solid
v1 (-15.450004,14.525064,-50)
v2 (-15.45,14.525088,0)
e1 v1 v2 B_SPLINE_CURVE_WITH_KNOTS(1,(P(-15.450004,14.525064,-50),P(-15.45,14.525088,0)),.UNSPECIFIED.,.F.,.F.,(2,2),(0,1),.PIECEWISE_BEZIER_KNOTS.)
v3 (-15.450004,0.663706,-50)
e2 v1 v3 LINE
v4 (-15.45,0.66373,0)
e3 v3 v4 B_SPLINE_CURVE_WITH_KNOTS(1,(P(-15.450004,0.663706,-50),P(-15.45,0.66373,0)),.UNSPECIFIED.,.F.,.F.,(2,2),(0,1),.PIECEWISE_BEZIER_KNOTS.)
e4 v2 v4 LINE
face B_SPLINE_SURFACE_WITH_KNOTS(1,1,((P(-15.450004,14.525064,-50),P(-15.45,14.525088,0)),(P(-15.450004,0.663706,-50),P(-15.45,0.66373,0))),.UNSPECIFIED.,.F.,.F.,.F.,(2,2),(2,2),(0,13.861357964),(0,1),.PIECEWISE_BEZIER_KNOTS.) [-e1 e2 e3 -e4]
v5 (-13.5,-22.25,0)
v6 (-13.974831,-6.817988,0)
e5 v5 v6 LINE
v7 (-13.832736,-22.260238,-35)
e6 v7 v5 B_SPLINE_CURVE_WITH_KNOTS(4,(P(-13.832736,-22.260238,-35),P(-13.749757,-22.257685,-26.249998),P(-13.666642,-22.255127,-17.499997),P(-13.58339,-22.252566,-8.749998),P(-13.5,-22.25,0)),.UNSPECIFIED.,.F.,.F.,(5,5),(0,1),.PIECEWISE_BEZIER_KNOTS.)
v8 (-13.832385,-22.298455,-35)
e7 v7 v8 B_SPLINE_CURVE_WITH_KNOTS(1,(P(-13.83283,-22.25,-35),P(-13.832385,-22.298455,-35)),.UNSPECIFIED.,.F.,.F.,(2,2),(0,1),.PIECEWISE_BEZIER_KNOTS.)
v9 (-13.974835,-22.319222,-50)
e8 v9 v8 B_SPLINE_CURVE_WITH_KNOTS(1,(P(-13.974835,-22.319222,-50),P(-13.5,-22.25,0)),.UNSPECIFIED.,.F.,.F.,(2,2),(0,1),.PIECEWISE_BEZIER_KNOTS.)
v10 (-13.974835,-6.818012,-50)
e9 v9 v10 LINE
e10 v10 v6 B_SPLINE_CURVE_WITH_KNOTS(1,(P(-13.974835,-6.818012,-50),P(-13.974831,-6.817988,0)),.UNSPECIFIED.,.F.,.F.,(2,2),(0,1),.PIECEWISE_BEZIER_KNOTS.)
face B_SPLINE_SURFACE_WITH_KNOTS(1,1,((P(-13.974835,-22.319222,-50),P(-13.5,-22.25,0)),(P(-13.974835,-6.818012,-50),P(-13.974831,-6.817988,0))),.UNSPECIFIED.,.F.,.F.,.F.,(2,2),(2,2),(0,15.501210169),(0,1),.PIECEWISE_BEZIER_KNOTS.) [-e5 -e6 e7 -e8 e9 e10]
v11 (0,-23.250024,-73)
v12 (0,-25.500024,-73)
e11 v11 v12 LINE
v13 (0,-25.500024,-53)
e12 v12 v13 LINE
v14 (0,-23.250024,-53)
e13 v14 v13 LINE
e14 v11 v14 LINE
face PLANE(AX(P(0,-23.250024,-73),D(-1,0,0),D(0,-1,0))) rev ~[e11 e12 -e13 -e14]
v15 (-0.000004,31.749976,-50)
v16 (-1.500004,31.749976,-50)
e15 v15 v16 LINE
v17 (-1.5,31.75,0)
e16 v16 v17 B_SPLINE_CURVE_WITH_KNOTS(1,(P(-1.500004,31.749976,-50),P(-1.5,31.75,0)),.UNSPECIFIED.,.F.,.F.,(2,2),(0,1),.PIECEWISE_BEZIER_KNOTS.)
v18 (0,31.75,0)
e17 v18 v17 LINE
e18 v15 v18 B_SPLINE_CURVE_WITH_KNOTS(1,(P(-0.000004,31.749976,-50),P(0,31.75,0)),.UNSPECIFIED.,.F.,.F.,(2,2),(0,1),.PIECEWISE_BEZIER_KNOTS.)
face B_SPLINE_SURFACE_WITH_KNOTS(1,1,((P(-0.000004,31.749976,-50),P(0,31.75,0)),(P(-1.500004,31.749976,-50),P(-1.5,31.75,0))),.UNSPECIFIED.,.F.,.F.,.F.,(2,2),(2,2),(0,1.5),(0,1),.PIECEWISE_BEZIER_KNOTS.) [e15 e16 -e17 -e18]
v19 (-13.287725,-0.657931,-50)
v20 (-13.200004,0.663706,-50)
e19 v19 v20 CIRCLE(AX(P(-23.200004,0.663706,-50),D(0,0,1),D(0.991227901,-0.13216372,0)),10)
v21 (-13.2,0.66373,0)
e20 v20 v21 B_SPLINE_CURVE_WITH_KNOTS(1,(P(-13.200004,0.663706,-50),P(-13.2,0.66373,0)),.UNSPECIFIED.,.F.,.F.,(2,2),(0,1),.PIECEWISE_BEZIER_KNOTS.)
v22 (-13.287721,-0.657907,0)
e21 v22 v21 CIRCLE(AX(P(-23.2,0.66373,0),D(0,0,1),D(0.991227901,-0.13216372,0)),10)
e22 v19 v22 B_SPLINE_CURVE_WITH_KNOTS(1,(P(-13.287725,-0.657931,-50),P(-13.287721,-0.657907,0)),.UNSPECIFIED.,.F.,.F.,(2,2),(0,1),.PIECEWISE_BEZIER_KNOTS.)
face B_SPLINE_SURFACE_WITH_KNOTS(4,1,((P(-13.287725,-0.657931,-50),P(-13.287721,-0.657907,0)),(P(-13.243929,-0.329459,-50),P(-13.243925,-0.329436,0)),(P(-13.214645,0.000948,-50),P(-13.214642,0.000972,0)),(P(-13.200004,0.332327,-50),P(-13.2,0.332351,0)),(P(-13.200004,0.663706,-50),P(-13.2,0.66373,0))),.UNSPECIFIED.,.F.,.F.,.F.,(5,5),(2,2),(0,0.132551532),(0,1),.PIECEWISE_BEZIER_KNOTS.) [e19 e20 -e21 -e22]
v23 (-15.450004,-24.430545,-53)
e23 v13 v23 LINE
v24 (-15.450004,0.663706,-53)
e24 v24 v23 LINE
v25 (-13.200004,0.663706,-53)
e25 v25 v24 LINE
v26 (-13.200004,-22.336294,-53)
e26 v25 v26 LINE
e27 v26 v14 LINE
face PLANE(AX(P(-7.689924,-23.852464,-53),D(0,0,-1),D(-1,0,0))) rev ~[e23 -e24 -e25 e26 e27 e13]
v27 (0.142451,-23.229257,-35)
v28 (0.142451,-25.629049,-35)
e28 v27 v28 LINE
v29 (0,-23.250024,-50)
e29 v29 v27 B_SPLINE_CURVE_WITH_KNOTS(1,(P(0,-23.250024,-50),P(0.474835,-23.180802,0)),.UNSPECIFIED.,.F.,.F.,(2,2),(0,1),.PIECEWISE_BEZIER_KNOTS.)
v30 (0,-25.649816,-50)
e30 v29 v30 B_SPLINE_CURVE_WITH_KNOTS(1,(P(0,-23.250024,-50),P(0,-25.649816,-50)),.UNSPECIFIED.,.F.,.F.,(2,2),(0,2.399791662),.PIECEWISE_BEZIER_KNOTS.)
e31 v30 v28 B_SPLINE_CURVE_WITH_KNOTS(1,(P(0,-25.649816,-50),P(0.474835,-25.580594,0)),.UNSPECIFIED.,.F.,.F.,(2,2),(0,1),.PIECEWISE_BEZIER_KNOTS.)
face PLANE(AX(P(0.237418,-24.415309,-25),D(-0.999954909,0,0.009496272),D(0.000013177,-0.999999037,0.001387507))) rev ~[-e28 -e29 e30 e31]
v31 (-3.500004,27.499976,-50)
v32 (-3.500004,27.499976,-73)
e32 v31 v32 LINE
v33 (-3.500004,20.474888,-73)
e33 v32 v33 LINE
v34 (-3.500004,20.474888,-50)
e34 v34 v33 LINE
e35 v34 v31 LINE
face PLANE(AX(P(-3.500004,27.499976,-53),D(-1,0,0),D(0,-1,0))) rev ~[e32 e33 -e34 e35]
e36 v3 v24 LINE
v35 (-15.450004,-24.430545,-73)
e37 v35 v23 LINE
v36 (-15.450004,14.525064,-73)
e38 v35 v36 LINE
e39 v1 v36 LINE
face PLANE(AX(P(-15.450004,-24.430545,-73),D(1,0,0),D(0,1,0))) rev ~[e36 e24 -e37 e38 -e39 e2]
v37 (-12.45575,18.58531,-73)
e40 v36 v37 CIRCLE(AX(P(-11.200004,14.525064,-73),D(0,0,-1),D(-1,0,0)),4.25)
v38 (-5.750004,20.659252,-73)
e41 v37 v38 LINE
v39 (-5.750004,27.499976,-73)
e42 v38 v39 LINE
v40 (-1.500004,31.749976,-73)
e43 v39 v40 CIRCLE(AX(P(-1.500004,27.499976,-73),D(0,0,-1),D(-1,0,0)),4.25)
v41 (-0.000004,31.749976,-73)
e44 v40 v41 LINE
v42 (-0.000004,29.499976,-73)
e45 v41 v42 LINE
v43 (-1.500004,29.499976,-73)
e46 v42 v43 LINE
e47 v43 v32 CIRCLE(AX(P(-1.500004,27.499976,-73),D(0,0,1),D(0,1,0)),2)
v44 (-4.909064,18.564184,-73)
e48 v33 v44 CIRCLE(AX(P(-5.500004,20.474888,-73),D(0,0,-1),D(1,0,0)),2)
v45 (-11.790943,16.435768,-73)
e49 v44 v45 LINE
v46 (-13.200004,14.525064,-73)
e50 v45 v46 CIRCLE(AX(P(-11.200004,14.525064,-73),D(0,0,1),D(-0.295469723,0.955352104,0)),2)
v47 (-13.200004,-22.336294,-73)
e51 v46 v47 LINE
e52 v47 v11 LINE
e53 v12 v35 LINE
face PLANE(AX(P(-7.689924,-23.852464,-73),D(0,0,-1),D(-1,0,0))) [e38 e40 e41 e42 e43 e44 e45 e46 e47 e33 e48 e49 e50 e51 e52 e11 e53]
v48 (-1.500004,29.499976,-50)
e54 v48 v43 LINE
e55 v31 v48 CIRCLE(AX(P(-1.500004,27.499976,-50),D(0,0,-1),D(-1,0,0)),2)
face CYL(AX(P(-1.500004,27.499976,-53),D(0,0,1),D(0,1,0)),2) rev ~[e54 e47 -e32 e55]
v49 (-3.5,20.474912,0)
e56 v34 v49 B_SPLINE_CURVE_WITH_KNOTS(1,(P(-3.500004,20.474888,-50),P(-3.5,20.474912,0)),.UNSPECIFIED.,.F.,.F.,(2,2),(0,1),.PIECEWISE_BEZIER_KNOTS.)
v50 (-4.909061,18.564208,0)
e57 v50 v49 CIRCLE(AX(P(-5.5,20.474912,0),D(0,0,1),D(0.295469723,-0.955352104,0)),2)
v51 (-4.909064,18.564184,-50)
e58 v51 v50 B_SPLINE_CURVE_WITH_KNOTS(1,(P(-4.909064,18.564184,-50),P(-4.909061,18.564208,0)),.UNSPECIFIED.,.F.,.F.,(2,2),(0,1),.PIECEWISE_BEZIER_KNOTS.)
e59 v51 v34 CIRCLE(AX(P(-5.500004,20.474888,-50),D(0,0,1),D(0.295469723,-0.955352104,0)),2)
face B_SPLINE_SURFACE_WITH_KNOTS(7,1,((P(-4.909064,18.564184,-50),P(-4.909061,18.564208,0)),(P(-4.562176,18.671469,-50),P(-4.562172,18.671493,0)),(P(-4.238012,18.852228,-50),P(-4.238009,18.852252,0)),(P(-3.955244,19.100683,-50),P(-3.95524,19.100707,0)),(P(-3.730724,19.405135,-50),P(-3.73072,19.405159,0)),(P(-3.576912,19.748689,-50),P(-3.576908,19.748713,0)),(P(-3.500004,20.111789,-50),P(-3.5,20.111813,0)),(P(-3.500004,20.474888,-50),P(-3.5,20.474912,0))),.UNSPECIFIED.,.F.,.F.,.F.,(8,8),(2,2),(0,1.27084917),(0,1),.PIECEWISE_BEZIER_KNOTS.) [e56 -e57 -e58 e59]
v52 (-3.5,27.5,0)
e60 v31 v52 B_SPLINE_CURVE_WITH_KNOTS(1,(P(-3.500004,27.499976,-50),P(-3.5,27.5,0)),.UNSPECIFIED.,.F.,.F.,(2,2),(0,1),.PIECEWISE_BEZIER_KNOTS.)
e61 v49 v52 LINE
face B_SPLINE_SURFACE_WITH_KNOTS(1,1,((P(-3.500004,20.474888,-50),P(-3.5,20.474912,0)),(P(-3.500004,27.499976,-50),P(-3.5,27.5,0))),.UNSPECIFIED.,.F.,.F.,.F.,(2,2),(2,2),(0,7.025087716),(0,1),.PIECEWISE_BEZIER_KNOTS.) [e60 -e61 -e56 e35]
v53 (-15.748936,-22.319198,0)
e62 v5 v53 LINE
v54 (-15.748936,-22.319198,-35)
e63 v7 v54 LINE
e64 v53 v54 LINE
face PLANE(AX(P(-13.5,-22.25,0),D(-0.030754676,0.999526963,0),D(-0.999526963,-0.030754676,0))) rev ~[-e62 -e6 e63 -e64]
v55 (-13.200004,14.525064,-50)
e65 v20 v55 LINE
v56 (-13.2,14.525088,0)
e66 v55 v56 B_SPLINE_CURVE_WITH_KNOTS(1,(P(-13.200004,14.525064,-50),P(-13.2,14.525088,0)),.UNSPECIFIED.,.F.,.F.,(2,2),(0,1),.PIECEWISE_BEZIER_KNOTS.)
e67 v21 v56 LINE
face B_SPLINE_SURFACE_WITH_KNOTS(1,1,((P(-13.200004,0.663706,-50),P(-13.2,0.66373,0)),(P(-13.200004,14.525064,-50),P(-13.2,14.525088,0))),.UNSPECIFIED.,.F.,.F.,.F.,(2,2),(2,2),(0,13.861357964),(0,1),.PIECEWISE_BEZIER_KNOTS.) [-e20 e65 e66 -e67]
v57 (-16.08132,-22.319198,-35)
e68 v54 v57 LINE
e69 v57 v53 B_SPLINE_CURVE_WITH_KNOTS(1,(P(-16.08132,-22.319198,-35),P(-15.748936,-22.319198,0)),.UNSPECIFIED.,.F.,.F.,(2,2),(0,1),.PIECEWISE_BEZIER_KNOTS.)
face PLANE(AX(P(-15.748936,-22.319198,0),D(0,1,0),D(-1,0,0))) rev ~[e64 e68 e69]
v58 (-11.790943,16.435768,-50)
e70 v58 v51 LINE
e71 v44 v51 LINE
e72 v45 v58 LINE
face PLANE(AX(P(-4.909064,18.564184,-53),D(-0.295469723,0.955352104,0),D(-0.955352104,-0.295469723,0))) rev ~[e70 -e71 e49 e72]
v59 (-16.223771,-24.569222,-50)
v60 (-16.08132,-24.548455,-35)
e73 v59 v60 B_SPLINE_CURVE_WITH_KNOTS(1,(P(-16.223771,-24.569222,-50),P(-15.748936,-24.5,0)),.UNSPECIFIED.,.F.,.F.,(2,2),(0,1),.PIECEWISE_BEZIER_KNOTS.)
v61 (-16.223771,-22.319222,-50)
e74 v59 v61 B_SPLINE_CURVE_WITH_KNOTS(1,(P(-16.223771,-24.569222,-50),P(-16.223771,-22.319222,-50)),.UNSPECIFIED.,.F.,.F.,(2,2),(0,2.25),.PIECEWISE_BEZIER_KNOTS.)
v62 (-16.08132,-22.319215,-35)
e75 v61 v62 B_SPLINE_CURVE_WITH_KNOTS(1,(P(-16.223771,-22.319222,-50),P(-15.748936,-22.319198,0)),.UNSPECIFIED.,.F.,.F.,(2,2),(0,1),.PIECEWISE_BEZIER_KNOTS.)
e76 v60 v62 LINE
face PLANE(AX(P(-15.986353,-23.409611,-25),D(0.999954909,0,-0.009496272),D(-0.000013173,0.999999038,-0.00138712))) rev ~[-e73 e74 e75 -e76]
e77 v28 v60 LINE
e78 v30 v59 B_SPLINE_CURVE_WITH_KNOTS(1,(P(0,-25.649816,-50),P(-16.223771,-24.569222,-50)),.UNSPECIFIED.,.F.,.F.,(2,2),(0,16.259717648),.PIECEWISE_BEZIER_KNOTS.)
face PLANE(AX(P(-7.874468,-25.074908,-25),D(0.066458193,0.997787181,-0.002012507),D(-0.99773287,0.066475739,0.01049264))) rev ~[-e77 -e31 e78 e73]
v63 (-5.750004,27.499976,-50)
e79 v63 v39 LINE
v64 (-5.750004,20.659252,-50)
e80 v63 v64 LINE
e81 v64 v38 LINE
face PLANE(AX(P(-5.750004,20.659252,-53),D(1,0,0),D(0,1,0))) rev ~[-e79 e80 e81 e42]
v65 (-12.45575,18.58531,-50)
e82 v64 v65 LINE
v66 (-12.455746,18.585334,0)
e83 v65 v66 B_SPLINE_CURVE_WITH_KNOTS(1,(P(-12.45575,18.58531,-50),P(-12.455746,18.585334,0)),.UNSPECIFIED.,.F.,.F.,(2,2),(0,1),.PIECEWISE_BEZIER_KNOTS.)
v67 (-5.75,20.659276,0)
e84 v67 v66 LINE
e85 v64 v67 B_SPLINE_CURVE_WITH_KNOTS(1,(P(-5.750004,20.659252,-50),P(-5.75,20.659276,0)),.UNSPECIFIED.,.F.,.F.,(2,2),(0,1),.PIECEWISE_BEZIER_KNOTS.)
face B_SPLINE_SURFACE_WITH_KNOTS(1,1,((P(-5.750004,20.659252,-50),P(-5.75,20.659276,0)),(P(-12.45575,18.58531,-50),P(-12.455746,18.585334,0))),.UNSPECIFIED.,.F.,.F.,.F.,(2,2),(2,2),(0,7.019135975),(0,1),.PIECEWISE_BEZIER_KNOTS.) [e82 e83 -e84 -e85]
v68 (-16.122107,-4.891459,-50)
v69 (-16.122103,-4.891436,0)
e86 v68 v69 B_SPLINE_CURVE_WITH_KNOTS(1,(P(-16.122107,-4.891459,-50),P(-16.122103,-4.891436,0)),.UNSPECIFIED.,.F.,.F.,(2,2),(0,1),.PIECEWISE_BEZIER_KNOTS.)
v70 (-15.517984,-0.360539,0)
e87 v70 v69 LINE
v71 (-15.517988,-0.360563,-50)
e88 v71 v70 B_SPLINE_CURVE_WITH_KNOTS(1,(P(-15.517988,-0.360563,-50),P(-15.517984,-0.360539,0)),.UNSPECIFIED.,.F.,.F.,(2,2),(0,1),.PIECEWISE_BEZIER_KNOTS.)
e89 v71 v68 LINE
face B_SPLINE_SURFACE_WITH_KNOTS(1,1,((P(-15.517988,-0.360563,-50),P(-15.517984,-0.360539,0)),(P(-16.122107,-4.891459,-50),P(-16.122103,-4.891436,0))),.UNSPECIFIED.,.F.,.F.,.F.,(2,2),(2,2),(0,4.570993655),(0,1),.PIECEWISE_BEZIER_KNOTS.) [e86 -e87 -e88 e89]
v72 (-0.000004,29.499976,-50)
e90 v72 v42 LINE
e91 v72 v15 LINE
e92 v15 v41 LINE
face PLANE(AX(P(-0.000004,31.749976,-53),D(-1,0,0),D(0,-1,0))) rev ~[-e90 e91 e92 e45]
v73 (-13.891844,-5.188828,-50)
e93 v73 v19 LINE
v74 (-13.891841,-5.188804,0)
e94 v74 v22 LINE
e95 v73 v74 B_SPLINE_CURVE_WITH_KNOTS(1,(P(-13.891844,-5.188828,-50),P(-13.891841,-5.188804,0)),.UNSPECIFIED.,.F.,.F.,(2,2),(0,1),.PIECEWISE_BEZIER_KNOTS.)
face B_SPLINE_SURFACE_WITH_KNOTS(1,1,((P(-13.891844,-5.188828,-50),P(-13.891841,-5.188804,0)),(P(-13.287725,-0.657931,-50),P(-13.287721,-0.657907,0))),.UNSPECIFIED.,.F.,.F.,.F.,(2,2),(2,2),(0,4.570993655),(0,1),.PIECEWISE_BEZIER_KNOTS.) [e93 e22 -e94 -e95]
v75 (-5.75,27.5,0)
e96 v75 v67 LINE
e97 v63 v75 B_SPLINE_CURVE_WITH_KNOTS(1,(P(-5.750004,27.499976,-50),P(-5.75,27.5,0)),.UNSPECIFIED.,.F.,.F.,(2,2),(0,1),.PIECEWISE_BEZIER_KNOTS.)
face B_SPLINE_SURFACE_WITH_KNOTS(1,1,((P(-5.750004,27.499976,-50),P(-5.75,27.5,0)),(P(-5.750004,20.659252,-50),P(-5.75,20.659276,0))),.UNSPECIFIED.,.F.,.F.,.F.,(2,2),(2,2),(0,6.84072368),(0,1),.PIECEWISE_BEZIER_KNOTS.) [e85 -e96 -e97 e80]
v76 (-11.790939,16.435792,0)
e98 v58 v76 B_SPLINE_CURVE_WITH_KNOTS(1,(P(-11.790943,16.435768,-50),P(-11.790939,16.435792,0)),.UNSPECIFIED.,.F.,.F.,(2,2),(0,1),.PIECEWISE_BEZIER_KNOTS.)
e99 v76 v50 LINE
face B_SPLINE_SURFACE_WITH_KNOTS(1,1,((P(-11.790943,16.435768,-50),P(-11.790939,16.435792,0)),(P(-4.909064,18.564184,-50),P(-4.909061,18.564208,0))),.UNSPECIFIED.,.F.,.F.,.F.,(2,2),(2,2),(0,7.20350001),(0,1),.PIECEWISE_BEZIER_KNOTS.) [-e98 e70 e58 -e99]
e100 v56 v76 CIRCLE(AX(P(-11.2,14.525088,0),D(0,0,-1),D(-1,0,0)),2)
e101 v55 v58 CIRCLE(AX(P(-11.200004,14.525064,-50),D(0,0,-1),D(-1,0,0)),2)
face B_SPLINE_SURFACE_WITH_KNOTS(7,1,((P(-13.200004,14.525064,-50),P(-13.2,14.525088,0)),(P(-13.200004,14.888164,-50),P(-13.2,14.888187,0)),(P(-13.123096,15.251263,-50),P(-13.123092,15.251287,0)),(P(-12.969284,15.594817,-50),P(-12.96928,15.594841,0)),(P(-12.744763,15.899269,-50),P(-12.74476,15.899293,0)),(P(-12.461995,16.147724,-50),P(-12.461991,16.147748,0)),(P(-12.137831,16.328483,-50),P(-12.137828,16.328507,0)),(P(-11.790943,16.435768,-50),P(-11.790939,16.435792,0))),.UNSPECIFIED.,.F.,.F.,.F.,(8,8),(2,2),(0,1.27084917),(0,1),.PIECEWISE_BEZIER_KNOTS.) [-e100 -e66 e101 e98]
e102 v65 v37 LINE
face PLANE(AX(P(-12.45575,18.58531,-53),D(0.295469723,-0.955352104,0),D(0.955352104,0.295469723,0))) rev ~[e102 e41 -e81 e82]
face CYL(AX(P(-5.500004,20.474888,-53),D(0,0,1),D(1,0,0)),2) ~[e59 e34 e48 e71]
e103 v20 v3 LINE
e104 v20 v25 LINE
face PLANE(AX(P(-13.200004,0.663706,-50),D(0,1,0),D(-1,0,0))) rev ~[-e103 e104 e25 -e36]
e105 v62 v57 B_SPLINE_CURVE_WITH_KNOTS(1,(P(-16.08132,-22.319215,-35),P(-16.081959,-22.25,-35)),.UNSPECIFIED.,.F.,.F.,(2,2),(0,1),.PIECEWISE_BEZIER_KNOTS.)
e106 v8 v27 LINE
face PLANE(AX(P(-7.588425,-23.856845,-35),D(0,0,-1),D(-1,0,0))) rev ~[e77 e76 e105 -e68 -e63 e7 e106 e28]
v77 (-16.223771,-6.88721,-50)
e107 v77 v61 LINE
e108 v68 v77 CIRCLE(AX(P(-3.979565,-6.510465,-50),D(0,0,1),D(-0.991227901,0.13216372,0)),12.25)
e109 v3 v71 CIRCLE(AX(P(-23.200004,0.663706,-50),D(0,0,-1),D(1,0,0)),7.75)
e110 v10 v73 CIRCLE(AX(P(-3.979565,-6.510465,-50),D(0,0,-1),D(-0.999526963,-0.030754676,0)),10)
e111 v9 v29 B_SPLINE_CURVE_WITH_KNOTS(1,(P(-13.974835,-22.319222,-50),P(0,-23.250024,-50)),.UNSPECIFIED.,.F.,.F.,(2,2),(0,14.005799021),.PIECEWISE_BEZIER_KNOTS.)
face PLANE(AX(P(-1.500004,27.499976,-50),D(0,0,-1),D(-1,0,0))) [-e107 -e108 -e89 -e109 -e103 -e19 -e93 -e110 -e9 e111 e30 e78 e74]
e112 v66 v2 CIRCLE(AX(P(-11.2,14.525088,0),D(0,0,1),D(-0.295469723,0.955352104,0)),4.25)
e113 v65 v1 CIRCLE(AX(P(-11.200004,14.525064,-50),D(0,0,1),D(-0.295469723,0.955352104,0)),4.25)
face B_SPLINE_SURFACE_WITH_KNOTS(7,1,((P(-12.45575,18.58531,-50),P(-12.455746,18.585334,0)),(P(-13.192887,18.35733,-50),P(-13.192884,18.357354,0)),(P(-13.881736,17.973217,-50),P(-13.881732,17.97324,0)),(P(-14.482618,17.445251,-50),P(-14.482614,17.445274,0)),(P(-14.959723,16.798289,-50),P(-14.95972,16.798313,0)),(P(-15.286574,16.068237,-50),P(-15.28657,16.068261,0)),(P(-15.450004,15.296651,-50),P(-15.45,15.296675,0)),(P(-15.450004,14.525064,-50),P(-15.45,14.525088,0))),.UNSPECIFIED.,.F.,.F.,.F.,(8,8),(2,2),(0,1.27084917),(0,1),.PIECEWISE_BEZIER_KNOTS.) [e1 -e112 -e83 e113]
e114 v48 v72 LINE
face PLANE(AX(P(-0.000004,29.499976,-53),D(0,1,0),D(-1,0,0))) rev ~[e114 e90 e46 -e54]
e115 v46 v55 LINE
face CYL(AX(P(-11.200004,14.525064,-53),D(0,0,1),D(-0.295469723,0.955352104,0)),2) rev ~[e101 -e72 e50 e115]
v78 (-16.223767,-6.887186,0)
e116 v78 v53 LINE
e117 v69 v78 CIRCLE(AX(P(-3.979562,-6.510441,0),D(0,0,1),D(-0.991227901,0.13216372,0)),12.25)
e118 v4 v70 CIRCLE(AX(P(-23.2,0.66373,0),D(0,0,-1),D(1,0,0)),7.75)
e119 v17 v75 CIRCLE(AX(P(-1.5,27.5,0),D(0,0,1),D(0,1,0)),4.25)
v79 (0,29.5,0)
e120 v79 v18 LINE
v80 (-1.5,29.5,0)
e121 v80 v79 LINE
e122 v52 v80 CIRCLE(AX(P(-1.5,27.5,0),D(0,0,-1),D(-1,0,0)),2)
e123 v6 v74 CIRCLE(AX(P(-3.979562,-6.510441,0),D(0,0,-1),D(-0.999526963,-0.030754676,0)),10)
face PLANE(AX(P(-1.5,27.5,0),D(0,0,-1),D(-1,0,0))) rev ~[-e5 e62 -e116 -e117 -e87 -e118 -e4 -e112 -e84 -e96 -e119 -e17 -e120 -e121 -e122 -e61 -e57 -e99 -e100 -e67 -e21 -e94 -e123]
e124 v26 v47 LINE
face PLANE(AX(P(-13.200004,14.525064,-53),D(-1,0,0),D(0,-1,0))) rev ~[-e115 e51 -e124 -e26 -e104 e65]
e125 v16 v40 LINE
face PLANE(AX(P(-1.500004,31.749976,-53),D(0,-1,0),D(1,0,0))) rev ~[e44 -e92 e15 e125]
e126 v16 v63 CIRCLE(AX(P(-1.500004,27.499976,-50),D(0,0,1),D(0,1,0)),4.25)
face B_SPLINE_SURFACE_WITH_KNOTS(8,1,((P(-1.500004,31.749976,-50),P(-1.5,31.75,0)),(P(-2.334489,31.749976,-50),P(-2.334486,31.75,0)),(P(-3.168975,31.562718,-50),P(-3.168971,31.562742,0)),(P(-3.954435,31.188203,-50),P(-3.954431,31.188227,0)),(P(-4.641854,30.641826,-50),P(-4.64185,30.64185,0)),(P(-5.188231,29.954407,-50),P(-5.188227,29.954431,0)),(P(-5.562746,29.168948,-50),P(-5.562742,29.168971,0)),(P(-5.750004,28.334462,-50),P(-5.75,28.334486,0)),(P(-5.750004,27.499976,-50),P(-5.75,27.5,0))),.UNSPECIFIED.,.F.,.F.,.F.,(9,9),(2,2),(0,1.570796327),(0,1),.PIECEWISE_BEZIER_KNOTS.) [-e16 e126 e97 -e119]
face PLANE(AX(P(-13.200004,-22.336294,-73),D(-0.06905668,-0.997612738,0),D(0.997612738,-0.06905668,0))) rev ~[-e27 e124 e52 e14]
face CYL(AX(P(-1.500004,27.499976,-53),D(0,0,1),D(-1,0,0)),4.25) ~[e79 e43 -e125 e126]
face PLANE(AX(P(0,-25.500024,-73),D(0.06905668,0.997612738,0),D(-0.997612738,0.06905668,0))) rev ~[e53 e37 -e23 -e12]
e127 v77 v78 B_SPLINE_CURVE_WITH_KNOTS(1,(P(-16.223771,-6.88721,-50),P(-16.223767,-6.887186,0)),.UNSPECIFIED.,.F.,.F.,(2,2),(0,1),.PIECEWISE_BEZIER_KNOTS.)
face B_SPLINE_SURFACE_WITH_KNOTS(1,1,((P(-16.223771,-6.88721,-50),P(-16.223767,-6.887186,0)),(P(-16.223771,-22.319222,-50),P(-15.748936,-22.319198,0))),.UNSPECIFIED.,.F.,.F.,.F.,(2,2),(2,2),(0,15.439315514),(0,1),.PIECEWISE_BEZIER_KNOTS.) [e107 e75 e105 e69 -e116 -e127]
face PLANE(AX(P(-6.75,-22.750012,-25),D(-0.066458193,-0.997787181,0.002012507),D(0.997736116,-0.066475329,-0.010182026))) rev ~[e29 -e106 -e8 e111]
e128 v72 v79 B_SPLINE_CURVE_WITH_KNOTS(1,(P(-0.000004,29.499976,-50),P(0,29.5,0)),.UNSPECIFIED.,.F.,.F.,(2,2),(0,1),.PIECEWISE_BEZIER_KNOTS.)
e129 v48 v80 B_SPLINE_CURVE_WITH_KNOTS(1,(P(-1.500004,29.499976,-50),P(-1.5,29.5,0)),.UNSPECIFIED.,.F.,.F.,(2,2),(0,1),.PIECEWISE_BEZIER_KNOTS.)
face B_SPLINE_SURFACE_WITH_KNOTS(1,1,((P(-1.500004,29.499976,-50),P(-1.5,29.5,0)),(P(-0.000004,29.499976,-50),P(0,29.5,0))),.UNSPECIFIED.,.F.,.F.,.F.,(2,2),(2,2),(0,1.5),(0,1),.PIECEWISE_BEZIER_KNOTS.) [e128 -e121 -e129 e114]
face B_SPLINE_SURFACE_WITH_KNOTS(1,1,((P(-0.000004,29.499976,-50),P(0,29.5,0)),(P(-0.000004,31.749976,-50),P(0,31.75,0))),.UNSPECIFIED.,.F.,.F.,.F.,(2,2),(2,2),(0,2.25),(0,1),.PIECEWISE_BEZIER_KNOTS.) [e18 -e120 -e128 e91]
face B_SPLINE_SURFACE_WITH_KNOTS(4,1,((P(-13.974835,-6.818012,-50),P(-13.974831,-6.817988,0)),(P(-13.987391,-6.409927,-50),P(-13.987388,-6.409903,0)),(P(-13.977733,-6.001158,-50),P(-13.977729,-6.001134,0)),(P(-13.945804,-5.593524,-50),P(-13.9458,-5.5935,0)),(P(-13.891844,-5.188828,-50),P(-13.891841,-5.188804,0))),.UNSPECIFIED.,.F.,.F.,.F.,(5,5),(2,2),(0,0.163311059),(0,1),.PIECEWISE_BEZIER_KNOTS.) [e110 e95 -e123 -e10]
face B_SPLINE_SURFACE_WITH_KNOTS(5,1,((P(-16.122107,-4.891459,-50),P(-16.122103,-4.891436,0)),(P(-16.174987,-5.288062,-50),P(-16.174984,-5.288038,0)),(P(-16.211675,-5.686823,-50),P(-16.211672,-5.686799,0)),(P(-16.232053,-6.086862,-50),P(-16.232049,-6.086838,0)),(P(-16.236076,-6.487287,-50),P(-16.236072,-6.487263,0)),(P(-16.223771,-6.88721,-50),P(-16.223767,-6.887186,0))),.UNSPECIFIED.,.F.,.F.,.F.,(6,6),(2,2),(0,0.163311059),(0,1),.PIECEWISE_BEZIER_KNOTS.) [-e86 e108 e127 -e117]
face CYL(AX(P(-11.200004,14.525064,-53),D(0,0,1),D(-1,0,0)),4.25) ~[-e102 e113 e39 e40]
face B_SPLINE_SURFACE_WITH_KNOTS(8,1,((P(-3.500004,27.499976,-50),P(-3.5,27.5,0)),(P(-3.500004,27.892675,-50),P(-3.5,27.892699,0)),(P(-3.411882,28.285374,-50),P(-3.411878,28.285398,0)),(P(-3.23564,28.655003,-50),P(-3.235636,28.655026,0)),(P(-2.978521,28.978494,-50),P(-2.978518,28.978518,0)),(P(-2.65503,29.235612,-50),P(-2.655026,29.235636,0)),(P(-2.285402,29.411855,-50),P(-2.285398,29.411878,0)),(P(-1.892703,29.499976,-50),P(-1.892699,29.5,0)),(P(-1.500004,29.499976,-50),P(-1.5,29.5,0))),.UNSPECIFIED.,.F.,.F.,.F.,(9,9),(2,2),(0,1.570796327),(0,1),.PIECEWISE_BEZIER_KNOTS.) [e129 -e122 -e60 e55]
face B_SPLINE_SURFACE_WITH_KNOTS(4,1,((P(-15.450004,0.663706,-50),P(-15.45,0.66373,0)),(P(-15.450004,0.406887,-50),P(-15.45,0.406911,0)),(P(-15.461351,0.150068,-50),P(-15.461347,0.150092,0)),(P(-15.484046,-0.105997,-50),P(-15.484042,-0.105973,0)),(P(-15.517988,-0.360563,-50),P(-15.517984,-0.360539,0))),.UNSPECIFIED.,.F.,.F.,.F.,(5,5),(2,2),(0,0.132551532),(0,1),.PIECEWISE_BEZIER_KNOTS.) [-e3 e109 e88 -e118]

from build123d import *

# Parameters (mm, degrees)
F5_DEPTH  = 3
F6_W      = 2.25
F6_H      = 23
F7_DEPTH  = 20
F13_DEPTH = 35


with BuildPart() as f3:
    # F2 (on offset) → F3 section 0
    with BuildSketch(Plane.XY.offset(-50)):
        with BuildLine():
            Line((-3.5000038791, 20.4748884357), (-3.5000038791, 27.4999761514))
            ThreePointArc((-3.5000038791, 27.4999761514), (-2.9142174415, 28.9141897138), (-1.5000038791, 29.4999761514))
            Line((-1.5000038791, 29.4999761514), (-3.8791e-06, 29.4999761514))
            Line((-3.8791e-06, 29.4999761514), (-3.8791e-06, 31.7499761514))
            Line((-3.8791e-06, 31.7499761514), (-1.5000038791, 31.7499761514))
            ThreePointArc((-1.5000038791, 31.7499761514), (-4.5052076991, 30.5051799715), (-5.7500038791, 27.4999761514))
            Line((-5.7500038791, 27.4999761514), (-5.7500038791, 20.6592524712))
            Line((-5.7500038791, 20.6592524712), (-12.4557502015, 18.5853103096))
            ThreePointArc((-12.4557502015, 18.5853103096), (-14.6204878997, 17.0475208172), (-15.4500038791, 14.5250638671))
            Line((-15.4500038791, 14.5250638671), (-15.4500038791, 0.6637059035))
            ThreePointArc((-15.4500038791, 0.6637059035), (-15.4670184988, 0.1504446566), (-15.5179876488, -0.3605629272))
            Line((-15.5179876488, -0.3605629272), (-16.1221071747, -4.8914593715))
            ThreePointArc((-16.1221071747, -4.8914593715), (-16.2137025969, -5.8872580453), (-16.223770689, -6.887209721))
            Line((-16.223770689, -6.887209721), (-16.223770689, -22.3192218691))
            Line((-16.223770689, -22.3192218691), (-13.9748350221, -22.3192218691))
            Line((-13.9748350221, -22.3192218691), (-13.9748350221, -6.8180117005))
            ThreePointArc((-13.9748350221, -6.8180117005), (-13.9666161714, -6.0017246183), (-13.8918443982, -5.1888277417))
            Line((-13.8918443982, -5.1888277417), (-13.2877248723, -0.6579312974))
            ThreePointArc((-13.2877248723, -0.6579312974), (-13.2219582271, 0.0014333268), (-13.2000038791, 0.6637059035))
            Line((-13.2000038791, 0.6637059035), (-13.2000038791, 14.5250638671))
            ThreePointArc((-13.2000038791, 14.5250638671), (-12.8096434182, 15.7121024319), (-11.790943325, 16.4357680754))
            Line((-11.790943325, 16.4357680754), (-4.9090644333, 18.5641842274))
            ThreePointArc((-4.9090644333, 18.5641842274), (-3.89036434, 19.2878498709), (-3.5000038791, 20.4748884357))
        make_face()
    # F0 (on Top) → F3 section 1
    with BuildSketch(Plane.XY):
        with BuildLine():
            Line((-3.5, 20.4749122843), (-3.5, 27.5))
            ThreePointArc((-3.5, 27.5), (-2.9142135624, 28.9142135624), (-1.5, 29.5))
            Line((-1.5, 29.5), (0, 29.5))
            Line((0, 29.5), (0, 31.75))
            Line((0, 31.75), (-1.5, 31.75))
            ThreePointArc((-1.5, 31.75), (-4.50520382, 30.50520382), (-5.75, 27.5))
            Line((-5.75, 27.5), (-5.75, 20.6592763198))
            Line((-5.75, 20.6592763198), (-12.4557463224, 18.5853341582))
            ThreePointArc((-12.4557463224, 18.5853341582), (-14.6204840206, 17.0475446658), (-15.45, 14.5250877157))
            Line((-15.45, 14.5250877157), (-15.45, 0.6637297521))
            ThreePointArc((-15.45, 0.6637297521), (-15.4670146197, 0.1504685052), (-15.5179837697, -0.3605390786))
            Line((-15.5179837697, -0.3605390786), (-16.1221032956, -4.8914355229))
            ThreePointArc((-16.1221032956, -4.8914355229), (-16.2136987178, -5.8872341967), (-16.2237668099, -6.8871858724))
            Line((-16.2237668099, -6.8871858724), (-15.7489356669, -22.3191980205))
            Line((-15.7489356669, -22.3191980205), (-13.5, -22.25))
            Line((-13.5, -22.25), (-13.974831143, -6.8179878519))
            ThreePointArc((-13.974831143, -6.8179878519), (-13.9666122923, -6.0017007697), (-13.8918405191, -5.1888038931))
            Line((-13.8918405191, -5.1888038931), (-13.2877209932, -0.6579074488))
            ThreePointArc((-13.2877209932, -0.6579074488), (-13.221954348, 0.0014571754), (-13.2, 0.6637297521))
            Line((-13.2, 0.6637297521), (-13.2, 14.5250877157))
            ThreePointArc((-13.2, 14.5250877157), (-12.8096395391, 15.7121262805), (-11.7909394458, 16.435791924))
            Line((-11.7909394458, 16.435791924), (-4.9090605542, 18.564208076))
            ThreePointArc((-4.9090605542, 18.564208076), (-3.8903604609, 19.2878737195), (-3.5, 20.4749122843))
        make_face()
    loft()

    # F4 (on face) → F5 (join)
    with BuildSketch(Plane(origin=(0, 0, -50), x_dir=(1, 0, 0), z_dir=(0, 0, -1))):
        with BuildLine():
            Line((-13.2000038791, -0.6637059035), (-15.4500038791, -0.6637059035))
            Line((-15.4500038791, -0.6637059035), (-15.4500038791, -14.5250638671))
            ThreePointArc((-15.4500038791, -14.5250638671), (-14.6204878997, -17.0475208172), (-12.4557502015, -18.5853103096))
            Line((-12.4557502015, -18.5853103096), (-5.7500038791, -20.6592524712))
            Line((-5.7500038791, -20.6592524712), (-5.7500038791, -27.4999761514))
            ThreePointArc((-5.7500038791, -27.4999761514), (-4.5052076991, -30.5051799715), (-1.5000038791, -31.7499761514))
            Line((-1.5000038791, -31.7499761514), (-3.8791e-06, -31.7499761514))
            Line((-3.8791e-06, -31.7499761514), (-3.8791e-06, -29.4999761514))
            Line((-3.8791e-06, -29.4999761514), (-1.5000038791, -29.4999761514))
            ThreePointArc((-1.5000038791, -29.4999761514), (-2.9142174415, -28.9141897138), (-3.5000038791, -27.4999761514))
            Line((-3.5000038791, -27.4999761514), (-3.5000038791, -20.4748884357))
            ThreePointArc((-3.5000038791, -20.4748884357), (-3.89036434, -19.2878498709), (-4.9090644333, -18.5641842274))
            Line((-4.9090644333, -18.5641842274), (-11.790943325, -16.4357680754))
            ThreePointArc((-11.790943325, -16.4357680754), (-12.8096434182, -15.7121024319), (-13.2000038791, -14.5250638671))
            Line((-13.2000038791, -14.5250638671), (-13.2000038791, -0.6637059035))
        make_face()
    extrude(amount=F5_DEPTH)

    # F6 (on face) → F7 (join)
    with BuildSketch(Plane(origin=(0, 0, -53), x_dir=(1, 0, 0), z_dir=(0, 0, -1))):
        with BuildLine():
            Line((-13.2000038791, -14.5250638671), (-13.2000038791, -0.6637059035))
            Line((-13.2000038791, -0.6637059035), (-15.4500038791, -0.6637059035))
            Line((-15.4500038791, -0.6637059035), (-15.4500038791, -14.5250638671))
            ThreePointArc((-15.4500038791, -14.5250638671), (-14.6204878997, -17.0475208172), (-12.4557502015, -18.5853103096))
            Line((-12.4557502015, -18.5853103096), (-5.7500038791, -20.6592524712))
            Line((-5.7500038791, -20.6592524712), (-5.7500038791, -27.4999761514))
            ThreePointArc((-5.7500038791, -27.4999761514), (-4.5052076991, -30.5051799715), (-1.5000038791, -31.7499761514))
            Line((-1.5000038791, -31.7499761514), (-3.8791e-06, -31.7499761514))
            Line((-3.8791e-06, -31.7499761514), (-3.8791e-06, -29.4999761514))
            Line((-3.8791e-06, -29.4999761514), (-1.5000038791, -29.4999761514))
            ThreePointArc((-1.5000038791, -29.4999761514), (-2.9142174415, -28.9141897138), (-3.5000038791, -27.4999761514))
            Line((-3.5000038791, -27.4999761514), (-3.5000038791, -20.4748884357))
            ThreePointArc((-3.5000038791, -20.4748884357), (-3.89036434, -19.2878498709), (-4.9090644333, -18.5641842274))
            Line((-4.9090644333, -18.5641842274), (-11.790943325, -16.4357680754))
            ThreePointArc((-11.790943325, -16.4357680754), (-12.8096434182, -15.7121024319), (-13.2000038791, -14.5250638671))
        make_face()
        with Locations((-14.3250038791, 10.8362940965)):
            Rectangle(F6_W, F6_H)
    extrude(amount=F7_DEPTH)

    # F10: sweep along a path in F10_path
    with BuildLine(Plane(origin=(-15.4500038791, -22.3362940965, -73), x_dir=(0, 0, -1), z_dir=(0, 1, 0))) as f10_path:
        Line((0, 0), (-20, 0))
    # F8 (on face) → F10 (sweep)
    with BuildSketch(Plane(origin=(0, 0, -73), x_dir=(1, 0, 0), z_dir=(0, 0, -1))):
        Polygon((-15.4500038791, 22.3362940965), (-13.2000038791, 22.3362940965), (0, 23.2500238486), (0, 25.5000238486), (-15.4500038791, 24.4305447527), align=None)
    sweep(path=f10_path.line)

    # F11: sweep along a path in F11_path
    with BuildLine(Plane(origin=(-13.9748350221, -22.3192218691, -50), x_dir=(-0.0094962722, 0, -0.9999549094), z_dir=(-0.9999549094, 0, 0.0094962722))) as f11_path:
        add(Plane(origin=(-13.9748350221, -22.3192218691, -50), x_dir=(-0.0094962722, 0, -0.9999549094), z_dir=(-0.9999549094, 0, 0.0094962722)) * Edge.make_bspline(
            [(0, 0), (-50.0022546321, -0.0692218691)],
            knots=[0, 0, 1, 1], degree=1))
    # F9 (on face) → F11 (sweep)
    with BuildSketch(Plane(origin=(0, 0, -50), x_dir=(1, 0, 0), z_dir=(0, 0, -1))):
        Polygon((-16.223770689, 22.3192218691), (-13.9748350221, 22.3192218691), (0, 23.2500238486), (0, 25.649815511), (-16.223770689, 24.5692218691), align=None)
    sweep(path=f11_path.line)

    # F12 (on face) → F13 (cut)
    with BuildSketch(Plane.XY):
        with BuildLine():
            add(Edge.make_bspline(
                [(-13.5, -22.25), (0.4748350221, -23.1808019795)],
                knots=[0, 0, 14.0057990211, 14.0057990211], degree=1))
            Line((-13.5, -22.25), (-15.7489356669, -22.3191980205))
            add(Edge.make_bspline(
                [(-15.7489356669, -24.5), (-15.7489356669, -22.3191980205)],
                knots=[0, 0, 2.1808019795, 2.1808019795], degree=1))
            add(Edge.make_bspline(
                [(0.4748350221, -25.5805936419), (-15.7489356669, -24.5)],
                knots=[0, 0, 16.2597176479, 16.2597176479], degree=1))
            add(Edge.make_bspline(
                [(0.4748350221, -23.1808019795), (0.4748350221, -25.5805936419)],
                knots=[0, 0, 2.3997916625, 2.3997916625], degree=1))
        make_face()
        with BuildLine():
            Line((1.4795829775, -22.3191980205), (-13.5, -22.25))
            add(Edge.make_bspline(
                [(-13.5, -22.25), (0.4748350221, -23.1808019795)],
                knots=[0, 0, 14.0057990211, 14.0057990211], degree=1))
            add(Edge.make_bspline(
                [(0.4748350221, -23.1808019795), (0.4748350221, -25.5805936419)],
                knots=[0, 0, 2.3997916625, 2.3997916625], degree=1))
            add(Edge.make_bspline(
                [(0.4748350221, -25.5805936419), (-15.7489356669, -24.5)],
                knots=[0, 0, 16.2597176479, 16.2597176479], degree=1))
            add(Edge.make_bspline(
                [(-15.7489356669, -24.5), (-15.7489356669, -22.3191980205)],
                knots=[0, 0, 2.1808019795, 2.1808019795], degree=1))
            Line((-15.7489356669, -22.3191980205), (-16.8508291245, -22.3191980205))
            Line((-16.8508291245, -22.3191980205), (-16.8508291245, -25.5727563053))
            Line((-16.8508291245, -25.5727563053), (1.4795829775, -27.0518492907))
            Line((1.4795829775, -27.0518492907), (1.4795829775, -22.3191980205))
        make_face()
    extrude(amount=-F13_DEPTH, mode=Mode.SUBTRACT)


solid = f3.part
